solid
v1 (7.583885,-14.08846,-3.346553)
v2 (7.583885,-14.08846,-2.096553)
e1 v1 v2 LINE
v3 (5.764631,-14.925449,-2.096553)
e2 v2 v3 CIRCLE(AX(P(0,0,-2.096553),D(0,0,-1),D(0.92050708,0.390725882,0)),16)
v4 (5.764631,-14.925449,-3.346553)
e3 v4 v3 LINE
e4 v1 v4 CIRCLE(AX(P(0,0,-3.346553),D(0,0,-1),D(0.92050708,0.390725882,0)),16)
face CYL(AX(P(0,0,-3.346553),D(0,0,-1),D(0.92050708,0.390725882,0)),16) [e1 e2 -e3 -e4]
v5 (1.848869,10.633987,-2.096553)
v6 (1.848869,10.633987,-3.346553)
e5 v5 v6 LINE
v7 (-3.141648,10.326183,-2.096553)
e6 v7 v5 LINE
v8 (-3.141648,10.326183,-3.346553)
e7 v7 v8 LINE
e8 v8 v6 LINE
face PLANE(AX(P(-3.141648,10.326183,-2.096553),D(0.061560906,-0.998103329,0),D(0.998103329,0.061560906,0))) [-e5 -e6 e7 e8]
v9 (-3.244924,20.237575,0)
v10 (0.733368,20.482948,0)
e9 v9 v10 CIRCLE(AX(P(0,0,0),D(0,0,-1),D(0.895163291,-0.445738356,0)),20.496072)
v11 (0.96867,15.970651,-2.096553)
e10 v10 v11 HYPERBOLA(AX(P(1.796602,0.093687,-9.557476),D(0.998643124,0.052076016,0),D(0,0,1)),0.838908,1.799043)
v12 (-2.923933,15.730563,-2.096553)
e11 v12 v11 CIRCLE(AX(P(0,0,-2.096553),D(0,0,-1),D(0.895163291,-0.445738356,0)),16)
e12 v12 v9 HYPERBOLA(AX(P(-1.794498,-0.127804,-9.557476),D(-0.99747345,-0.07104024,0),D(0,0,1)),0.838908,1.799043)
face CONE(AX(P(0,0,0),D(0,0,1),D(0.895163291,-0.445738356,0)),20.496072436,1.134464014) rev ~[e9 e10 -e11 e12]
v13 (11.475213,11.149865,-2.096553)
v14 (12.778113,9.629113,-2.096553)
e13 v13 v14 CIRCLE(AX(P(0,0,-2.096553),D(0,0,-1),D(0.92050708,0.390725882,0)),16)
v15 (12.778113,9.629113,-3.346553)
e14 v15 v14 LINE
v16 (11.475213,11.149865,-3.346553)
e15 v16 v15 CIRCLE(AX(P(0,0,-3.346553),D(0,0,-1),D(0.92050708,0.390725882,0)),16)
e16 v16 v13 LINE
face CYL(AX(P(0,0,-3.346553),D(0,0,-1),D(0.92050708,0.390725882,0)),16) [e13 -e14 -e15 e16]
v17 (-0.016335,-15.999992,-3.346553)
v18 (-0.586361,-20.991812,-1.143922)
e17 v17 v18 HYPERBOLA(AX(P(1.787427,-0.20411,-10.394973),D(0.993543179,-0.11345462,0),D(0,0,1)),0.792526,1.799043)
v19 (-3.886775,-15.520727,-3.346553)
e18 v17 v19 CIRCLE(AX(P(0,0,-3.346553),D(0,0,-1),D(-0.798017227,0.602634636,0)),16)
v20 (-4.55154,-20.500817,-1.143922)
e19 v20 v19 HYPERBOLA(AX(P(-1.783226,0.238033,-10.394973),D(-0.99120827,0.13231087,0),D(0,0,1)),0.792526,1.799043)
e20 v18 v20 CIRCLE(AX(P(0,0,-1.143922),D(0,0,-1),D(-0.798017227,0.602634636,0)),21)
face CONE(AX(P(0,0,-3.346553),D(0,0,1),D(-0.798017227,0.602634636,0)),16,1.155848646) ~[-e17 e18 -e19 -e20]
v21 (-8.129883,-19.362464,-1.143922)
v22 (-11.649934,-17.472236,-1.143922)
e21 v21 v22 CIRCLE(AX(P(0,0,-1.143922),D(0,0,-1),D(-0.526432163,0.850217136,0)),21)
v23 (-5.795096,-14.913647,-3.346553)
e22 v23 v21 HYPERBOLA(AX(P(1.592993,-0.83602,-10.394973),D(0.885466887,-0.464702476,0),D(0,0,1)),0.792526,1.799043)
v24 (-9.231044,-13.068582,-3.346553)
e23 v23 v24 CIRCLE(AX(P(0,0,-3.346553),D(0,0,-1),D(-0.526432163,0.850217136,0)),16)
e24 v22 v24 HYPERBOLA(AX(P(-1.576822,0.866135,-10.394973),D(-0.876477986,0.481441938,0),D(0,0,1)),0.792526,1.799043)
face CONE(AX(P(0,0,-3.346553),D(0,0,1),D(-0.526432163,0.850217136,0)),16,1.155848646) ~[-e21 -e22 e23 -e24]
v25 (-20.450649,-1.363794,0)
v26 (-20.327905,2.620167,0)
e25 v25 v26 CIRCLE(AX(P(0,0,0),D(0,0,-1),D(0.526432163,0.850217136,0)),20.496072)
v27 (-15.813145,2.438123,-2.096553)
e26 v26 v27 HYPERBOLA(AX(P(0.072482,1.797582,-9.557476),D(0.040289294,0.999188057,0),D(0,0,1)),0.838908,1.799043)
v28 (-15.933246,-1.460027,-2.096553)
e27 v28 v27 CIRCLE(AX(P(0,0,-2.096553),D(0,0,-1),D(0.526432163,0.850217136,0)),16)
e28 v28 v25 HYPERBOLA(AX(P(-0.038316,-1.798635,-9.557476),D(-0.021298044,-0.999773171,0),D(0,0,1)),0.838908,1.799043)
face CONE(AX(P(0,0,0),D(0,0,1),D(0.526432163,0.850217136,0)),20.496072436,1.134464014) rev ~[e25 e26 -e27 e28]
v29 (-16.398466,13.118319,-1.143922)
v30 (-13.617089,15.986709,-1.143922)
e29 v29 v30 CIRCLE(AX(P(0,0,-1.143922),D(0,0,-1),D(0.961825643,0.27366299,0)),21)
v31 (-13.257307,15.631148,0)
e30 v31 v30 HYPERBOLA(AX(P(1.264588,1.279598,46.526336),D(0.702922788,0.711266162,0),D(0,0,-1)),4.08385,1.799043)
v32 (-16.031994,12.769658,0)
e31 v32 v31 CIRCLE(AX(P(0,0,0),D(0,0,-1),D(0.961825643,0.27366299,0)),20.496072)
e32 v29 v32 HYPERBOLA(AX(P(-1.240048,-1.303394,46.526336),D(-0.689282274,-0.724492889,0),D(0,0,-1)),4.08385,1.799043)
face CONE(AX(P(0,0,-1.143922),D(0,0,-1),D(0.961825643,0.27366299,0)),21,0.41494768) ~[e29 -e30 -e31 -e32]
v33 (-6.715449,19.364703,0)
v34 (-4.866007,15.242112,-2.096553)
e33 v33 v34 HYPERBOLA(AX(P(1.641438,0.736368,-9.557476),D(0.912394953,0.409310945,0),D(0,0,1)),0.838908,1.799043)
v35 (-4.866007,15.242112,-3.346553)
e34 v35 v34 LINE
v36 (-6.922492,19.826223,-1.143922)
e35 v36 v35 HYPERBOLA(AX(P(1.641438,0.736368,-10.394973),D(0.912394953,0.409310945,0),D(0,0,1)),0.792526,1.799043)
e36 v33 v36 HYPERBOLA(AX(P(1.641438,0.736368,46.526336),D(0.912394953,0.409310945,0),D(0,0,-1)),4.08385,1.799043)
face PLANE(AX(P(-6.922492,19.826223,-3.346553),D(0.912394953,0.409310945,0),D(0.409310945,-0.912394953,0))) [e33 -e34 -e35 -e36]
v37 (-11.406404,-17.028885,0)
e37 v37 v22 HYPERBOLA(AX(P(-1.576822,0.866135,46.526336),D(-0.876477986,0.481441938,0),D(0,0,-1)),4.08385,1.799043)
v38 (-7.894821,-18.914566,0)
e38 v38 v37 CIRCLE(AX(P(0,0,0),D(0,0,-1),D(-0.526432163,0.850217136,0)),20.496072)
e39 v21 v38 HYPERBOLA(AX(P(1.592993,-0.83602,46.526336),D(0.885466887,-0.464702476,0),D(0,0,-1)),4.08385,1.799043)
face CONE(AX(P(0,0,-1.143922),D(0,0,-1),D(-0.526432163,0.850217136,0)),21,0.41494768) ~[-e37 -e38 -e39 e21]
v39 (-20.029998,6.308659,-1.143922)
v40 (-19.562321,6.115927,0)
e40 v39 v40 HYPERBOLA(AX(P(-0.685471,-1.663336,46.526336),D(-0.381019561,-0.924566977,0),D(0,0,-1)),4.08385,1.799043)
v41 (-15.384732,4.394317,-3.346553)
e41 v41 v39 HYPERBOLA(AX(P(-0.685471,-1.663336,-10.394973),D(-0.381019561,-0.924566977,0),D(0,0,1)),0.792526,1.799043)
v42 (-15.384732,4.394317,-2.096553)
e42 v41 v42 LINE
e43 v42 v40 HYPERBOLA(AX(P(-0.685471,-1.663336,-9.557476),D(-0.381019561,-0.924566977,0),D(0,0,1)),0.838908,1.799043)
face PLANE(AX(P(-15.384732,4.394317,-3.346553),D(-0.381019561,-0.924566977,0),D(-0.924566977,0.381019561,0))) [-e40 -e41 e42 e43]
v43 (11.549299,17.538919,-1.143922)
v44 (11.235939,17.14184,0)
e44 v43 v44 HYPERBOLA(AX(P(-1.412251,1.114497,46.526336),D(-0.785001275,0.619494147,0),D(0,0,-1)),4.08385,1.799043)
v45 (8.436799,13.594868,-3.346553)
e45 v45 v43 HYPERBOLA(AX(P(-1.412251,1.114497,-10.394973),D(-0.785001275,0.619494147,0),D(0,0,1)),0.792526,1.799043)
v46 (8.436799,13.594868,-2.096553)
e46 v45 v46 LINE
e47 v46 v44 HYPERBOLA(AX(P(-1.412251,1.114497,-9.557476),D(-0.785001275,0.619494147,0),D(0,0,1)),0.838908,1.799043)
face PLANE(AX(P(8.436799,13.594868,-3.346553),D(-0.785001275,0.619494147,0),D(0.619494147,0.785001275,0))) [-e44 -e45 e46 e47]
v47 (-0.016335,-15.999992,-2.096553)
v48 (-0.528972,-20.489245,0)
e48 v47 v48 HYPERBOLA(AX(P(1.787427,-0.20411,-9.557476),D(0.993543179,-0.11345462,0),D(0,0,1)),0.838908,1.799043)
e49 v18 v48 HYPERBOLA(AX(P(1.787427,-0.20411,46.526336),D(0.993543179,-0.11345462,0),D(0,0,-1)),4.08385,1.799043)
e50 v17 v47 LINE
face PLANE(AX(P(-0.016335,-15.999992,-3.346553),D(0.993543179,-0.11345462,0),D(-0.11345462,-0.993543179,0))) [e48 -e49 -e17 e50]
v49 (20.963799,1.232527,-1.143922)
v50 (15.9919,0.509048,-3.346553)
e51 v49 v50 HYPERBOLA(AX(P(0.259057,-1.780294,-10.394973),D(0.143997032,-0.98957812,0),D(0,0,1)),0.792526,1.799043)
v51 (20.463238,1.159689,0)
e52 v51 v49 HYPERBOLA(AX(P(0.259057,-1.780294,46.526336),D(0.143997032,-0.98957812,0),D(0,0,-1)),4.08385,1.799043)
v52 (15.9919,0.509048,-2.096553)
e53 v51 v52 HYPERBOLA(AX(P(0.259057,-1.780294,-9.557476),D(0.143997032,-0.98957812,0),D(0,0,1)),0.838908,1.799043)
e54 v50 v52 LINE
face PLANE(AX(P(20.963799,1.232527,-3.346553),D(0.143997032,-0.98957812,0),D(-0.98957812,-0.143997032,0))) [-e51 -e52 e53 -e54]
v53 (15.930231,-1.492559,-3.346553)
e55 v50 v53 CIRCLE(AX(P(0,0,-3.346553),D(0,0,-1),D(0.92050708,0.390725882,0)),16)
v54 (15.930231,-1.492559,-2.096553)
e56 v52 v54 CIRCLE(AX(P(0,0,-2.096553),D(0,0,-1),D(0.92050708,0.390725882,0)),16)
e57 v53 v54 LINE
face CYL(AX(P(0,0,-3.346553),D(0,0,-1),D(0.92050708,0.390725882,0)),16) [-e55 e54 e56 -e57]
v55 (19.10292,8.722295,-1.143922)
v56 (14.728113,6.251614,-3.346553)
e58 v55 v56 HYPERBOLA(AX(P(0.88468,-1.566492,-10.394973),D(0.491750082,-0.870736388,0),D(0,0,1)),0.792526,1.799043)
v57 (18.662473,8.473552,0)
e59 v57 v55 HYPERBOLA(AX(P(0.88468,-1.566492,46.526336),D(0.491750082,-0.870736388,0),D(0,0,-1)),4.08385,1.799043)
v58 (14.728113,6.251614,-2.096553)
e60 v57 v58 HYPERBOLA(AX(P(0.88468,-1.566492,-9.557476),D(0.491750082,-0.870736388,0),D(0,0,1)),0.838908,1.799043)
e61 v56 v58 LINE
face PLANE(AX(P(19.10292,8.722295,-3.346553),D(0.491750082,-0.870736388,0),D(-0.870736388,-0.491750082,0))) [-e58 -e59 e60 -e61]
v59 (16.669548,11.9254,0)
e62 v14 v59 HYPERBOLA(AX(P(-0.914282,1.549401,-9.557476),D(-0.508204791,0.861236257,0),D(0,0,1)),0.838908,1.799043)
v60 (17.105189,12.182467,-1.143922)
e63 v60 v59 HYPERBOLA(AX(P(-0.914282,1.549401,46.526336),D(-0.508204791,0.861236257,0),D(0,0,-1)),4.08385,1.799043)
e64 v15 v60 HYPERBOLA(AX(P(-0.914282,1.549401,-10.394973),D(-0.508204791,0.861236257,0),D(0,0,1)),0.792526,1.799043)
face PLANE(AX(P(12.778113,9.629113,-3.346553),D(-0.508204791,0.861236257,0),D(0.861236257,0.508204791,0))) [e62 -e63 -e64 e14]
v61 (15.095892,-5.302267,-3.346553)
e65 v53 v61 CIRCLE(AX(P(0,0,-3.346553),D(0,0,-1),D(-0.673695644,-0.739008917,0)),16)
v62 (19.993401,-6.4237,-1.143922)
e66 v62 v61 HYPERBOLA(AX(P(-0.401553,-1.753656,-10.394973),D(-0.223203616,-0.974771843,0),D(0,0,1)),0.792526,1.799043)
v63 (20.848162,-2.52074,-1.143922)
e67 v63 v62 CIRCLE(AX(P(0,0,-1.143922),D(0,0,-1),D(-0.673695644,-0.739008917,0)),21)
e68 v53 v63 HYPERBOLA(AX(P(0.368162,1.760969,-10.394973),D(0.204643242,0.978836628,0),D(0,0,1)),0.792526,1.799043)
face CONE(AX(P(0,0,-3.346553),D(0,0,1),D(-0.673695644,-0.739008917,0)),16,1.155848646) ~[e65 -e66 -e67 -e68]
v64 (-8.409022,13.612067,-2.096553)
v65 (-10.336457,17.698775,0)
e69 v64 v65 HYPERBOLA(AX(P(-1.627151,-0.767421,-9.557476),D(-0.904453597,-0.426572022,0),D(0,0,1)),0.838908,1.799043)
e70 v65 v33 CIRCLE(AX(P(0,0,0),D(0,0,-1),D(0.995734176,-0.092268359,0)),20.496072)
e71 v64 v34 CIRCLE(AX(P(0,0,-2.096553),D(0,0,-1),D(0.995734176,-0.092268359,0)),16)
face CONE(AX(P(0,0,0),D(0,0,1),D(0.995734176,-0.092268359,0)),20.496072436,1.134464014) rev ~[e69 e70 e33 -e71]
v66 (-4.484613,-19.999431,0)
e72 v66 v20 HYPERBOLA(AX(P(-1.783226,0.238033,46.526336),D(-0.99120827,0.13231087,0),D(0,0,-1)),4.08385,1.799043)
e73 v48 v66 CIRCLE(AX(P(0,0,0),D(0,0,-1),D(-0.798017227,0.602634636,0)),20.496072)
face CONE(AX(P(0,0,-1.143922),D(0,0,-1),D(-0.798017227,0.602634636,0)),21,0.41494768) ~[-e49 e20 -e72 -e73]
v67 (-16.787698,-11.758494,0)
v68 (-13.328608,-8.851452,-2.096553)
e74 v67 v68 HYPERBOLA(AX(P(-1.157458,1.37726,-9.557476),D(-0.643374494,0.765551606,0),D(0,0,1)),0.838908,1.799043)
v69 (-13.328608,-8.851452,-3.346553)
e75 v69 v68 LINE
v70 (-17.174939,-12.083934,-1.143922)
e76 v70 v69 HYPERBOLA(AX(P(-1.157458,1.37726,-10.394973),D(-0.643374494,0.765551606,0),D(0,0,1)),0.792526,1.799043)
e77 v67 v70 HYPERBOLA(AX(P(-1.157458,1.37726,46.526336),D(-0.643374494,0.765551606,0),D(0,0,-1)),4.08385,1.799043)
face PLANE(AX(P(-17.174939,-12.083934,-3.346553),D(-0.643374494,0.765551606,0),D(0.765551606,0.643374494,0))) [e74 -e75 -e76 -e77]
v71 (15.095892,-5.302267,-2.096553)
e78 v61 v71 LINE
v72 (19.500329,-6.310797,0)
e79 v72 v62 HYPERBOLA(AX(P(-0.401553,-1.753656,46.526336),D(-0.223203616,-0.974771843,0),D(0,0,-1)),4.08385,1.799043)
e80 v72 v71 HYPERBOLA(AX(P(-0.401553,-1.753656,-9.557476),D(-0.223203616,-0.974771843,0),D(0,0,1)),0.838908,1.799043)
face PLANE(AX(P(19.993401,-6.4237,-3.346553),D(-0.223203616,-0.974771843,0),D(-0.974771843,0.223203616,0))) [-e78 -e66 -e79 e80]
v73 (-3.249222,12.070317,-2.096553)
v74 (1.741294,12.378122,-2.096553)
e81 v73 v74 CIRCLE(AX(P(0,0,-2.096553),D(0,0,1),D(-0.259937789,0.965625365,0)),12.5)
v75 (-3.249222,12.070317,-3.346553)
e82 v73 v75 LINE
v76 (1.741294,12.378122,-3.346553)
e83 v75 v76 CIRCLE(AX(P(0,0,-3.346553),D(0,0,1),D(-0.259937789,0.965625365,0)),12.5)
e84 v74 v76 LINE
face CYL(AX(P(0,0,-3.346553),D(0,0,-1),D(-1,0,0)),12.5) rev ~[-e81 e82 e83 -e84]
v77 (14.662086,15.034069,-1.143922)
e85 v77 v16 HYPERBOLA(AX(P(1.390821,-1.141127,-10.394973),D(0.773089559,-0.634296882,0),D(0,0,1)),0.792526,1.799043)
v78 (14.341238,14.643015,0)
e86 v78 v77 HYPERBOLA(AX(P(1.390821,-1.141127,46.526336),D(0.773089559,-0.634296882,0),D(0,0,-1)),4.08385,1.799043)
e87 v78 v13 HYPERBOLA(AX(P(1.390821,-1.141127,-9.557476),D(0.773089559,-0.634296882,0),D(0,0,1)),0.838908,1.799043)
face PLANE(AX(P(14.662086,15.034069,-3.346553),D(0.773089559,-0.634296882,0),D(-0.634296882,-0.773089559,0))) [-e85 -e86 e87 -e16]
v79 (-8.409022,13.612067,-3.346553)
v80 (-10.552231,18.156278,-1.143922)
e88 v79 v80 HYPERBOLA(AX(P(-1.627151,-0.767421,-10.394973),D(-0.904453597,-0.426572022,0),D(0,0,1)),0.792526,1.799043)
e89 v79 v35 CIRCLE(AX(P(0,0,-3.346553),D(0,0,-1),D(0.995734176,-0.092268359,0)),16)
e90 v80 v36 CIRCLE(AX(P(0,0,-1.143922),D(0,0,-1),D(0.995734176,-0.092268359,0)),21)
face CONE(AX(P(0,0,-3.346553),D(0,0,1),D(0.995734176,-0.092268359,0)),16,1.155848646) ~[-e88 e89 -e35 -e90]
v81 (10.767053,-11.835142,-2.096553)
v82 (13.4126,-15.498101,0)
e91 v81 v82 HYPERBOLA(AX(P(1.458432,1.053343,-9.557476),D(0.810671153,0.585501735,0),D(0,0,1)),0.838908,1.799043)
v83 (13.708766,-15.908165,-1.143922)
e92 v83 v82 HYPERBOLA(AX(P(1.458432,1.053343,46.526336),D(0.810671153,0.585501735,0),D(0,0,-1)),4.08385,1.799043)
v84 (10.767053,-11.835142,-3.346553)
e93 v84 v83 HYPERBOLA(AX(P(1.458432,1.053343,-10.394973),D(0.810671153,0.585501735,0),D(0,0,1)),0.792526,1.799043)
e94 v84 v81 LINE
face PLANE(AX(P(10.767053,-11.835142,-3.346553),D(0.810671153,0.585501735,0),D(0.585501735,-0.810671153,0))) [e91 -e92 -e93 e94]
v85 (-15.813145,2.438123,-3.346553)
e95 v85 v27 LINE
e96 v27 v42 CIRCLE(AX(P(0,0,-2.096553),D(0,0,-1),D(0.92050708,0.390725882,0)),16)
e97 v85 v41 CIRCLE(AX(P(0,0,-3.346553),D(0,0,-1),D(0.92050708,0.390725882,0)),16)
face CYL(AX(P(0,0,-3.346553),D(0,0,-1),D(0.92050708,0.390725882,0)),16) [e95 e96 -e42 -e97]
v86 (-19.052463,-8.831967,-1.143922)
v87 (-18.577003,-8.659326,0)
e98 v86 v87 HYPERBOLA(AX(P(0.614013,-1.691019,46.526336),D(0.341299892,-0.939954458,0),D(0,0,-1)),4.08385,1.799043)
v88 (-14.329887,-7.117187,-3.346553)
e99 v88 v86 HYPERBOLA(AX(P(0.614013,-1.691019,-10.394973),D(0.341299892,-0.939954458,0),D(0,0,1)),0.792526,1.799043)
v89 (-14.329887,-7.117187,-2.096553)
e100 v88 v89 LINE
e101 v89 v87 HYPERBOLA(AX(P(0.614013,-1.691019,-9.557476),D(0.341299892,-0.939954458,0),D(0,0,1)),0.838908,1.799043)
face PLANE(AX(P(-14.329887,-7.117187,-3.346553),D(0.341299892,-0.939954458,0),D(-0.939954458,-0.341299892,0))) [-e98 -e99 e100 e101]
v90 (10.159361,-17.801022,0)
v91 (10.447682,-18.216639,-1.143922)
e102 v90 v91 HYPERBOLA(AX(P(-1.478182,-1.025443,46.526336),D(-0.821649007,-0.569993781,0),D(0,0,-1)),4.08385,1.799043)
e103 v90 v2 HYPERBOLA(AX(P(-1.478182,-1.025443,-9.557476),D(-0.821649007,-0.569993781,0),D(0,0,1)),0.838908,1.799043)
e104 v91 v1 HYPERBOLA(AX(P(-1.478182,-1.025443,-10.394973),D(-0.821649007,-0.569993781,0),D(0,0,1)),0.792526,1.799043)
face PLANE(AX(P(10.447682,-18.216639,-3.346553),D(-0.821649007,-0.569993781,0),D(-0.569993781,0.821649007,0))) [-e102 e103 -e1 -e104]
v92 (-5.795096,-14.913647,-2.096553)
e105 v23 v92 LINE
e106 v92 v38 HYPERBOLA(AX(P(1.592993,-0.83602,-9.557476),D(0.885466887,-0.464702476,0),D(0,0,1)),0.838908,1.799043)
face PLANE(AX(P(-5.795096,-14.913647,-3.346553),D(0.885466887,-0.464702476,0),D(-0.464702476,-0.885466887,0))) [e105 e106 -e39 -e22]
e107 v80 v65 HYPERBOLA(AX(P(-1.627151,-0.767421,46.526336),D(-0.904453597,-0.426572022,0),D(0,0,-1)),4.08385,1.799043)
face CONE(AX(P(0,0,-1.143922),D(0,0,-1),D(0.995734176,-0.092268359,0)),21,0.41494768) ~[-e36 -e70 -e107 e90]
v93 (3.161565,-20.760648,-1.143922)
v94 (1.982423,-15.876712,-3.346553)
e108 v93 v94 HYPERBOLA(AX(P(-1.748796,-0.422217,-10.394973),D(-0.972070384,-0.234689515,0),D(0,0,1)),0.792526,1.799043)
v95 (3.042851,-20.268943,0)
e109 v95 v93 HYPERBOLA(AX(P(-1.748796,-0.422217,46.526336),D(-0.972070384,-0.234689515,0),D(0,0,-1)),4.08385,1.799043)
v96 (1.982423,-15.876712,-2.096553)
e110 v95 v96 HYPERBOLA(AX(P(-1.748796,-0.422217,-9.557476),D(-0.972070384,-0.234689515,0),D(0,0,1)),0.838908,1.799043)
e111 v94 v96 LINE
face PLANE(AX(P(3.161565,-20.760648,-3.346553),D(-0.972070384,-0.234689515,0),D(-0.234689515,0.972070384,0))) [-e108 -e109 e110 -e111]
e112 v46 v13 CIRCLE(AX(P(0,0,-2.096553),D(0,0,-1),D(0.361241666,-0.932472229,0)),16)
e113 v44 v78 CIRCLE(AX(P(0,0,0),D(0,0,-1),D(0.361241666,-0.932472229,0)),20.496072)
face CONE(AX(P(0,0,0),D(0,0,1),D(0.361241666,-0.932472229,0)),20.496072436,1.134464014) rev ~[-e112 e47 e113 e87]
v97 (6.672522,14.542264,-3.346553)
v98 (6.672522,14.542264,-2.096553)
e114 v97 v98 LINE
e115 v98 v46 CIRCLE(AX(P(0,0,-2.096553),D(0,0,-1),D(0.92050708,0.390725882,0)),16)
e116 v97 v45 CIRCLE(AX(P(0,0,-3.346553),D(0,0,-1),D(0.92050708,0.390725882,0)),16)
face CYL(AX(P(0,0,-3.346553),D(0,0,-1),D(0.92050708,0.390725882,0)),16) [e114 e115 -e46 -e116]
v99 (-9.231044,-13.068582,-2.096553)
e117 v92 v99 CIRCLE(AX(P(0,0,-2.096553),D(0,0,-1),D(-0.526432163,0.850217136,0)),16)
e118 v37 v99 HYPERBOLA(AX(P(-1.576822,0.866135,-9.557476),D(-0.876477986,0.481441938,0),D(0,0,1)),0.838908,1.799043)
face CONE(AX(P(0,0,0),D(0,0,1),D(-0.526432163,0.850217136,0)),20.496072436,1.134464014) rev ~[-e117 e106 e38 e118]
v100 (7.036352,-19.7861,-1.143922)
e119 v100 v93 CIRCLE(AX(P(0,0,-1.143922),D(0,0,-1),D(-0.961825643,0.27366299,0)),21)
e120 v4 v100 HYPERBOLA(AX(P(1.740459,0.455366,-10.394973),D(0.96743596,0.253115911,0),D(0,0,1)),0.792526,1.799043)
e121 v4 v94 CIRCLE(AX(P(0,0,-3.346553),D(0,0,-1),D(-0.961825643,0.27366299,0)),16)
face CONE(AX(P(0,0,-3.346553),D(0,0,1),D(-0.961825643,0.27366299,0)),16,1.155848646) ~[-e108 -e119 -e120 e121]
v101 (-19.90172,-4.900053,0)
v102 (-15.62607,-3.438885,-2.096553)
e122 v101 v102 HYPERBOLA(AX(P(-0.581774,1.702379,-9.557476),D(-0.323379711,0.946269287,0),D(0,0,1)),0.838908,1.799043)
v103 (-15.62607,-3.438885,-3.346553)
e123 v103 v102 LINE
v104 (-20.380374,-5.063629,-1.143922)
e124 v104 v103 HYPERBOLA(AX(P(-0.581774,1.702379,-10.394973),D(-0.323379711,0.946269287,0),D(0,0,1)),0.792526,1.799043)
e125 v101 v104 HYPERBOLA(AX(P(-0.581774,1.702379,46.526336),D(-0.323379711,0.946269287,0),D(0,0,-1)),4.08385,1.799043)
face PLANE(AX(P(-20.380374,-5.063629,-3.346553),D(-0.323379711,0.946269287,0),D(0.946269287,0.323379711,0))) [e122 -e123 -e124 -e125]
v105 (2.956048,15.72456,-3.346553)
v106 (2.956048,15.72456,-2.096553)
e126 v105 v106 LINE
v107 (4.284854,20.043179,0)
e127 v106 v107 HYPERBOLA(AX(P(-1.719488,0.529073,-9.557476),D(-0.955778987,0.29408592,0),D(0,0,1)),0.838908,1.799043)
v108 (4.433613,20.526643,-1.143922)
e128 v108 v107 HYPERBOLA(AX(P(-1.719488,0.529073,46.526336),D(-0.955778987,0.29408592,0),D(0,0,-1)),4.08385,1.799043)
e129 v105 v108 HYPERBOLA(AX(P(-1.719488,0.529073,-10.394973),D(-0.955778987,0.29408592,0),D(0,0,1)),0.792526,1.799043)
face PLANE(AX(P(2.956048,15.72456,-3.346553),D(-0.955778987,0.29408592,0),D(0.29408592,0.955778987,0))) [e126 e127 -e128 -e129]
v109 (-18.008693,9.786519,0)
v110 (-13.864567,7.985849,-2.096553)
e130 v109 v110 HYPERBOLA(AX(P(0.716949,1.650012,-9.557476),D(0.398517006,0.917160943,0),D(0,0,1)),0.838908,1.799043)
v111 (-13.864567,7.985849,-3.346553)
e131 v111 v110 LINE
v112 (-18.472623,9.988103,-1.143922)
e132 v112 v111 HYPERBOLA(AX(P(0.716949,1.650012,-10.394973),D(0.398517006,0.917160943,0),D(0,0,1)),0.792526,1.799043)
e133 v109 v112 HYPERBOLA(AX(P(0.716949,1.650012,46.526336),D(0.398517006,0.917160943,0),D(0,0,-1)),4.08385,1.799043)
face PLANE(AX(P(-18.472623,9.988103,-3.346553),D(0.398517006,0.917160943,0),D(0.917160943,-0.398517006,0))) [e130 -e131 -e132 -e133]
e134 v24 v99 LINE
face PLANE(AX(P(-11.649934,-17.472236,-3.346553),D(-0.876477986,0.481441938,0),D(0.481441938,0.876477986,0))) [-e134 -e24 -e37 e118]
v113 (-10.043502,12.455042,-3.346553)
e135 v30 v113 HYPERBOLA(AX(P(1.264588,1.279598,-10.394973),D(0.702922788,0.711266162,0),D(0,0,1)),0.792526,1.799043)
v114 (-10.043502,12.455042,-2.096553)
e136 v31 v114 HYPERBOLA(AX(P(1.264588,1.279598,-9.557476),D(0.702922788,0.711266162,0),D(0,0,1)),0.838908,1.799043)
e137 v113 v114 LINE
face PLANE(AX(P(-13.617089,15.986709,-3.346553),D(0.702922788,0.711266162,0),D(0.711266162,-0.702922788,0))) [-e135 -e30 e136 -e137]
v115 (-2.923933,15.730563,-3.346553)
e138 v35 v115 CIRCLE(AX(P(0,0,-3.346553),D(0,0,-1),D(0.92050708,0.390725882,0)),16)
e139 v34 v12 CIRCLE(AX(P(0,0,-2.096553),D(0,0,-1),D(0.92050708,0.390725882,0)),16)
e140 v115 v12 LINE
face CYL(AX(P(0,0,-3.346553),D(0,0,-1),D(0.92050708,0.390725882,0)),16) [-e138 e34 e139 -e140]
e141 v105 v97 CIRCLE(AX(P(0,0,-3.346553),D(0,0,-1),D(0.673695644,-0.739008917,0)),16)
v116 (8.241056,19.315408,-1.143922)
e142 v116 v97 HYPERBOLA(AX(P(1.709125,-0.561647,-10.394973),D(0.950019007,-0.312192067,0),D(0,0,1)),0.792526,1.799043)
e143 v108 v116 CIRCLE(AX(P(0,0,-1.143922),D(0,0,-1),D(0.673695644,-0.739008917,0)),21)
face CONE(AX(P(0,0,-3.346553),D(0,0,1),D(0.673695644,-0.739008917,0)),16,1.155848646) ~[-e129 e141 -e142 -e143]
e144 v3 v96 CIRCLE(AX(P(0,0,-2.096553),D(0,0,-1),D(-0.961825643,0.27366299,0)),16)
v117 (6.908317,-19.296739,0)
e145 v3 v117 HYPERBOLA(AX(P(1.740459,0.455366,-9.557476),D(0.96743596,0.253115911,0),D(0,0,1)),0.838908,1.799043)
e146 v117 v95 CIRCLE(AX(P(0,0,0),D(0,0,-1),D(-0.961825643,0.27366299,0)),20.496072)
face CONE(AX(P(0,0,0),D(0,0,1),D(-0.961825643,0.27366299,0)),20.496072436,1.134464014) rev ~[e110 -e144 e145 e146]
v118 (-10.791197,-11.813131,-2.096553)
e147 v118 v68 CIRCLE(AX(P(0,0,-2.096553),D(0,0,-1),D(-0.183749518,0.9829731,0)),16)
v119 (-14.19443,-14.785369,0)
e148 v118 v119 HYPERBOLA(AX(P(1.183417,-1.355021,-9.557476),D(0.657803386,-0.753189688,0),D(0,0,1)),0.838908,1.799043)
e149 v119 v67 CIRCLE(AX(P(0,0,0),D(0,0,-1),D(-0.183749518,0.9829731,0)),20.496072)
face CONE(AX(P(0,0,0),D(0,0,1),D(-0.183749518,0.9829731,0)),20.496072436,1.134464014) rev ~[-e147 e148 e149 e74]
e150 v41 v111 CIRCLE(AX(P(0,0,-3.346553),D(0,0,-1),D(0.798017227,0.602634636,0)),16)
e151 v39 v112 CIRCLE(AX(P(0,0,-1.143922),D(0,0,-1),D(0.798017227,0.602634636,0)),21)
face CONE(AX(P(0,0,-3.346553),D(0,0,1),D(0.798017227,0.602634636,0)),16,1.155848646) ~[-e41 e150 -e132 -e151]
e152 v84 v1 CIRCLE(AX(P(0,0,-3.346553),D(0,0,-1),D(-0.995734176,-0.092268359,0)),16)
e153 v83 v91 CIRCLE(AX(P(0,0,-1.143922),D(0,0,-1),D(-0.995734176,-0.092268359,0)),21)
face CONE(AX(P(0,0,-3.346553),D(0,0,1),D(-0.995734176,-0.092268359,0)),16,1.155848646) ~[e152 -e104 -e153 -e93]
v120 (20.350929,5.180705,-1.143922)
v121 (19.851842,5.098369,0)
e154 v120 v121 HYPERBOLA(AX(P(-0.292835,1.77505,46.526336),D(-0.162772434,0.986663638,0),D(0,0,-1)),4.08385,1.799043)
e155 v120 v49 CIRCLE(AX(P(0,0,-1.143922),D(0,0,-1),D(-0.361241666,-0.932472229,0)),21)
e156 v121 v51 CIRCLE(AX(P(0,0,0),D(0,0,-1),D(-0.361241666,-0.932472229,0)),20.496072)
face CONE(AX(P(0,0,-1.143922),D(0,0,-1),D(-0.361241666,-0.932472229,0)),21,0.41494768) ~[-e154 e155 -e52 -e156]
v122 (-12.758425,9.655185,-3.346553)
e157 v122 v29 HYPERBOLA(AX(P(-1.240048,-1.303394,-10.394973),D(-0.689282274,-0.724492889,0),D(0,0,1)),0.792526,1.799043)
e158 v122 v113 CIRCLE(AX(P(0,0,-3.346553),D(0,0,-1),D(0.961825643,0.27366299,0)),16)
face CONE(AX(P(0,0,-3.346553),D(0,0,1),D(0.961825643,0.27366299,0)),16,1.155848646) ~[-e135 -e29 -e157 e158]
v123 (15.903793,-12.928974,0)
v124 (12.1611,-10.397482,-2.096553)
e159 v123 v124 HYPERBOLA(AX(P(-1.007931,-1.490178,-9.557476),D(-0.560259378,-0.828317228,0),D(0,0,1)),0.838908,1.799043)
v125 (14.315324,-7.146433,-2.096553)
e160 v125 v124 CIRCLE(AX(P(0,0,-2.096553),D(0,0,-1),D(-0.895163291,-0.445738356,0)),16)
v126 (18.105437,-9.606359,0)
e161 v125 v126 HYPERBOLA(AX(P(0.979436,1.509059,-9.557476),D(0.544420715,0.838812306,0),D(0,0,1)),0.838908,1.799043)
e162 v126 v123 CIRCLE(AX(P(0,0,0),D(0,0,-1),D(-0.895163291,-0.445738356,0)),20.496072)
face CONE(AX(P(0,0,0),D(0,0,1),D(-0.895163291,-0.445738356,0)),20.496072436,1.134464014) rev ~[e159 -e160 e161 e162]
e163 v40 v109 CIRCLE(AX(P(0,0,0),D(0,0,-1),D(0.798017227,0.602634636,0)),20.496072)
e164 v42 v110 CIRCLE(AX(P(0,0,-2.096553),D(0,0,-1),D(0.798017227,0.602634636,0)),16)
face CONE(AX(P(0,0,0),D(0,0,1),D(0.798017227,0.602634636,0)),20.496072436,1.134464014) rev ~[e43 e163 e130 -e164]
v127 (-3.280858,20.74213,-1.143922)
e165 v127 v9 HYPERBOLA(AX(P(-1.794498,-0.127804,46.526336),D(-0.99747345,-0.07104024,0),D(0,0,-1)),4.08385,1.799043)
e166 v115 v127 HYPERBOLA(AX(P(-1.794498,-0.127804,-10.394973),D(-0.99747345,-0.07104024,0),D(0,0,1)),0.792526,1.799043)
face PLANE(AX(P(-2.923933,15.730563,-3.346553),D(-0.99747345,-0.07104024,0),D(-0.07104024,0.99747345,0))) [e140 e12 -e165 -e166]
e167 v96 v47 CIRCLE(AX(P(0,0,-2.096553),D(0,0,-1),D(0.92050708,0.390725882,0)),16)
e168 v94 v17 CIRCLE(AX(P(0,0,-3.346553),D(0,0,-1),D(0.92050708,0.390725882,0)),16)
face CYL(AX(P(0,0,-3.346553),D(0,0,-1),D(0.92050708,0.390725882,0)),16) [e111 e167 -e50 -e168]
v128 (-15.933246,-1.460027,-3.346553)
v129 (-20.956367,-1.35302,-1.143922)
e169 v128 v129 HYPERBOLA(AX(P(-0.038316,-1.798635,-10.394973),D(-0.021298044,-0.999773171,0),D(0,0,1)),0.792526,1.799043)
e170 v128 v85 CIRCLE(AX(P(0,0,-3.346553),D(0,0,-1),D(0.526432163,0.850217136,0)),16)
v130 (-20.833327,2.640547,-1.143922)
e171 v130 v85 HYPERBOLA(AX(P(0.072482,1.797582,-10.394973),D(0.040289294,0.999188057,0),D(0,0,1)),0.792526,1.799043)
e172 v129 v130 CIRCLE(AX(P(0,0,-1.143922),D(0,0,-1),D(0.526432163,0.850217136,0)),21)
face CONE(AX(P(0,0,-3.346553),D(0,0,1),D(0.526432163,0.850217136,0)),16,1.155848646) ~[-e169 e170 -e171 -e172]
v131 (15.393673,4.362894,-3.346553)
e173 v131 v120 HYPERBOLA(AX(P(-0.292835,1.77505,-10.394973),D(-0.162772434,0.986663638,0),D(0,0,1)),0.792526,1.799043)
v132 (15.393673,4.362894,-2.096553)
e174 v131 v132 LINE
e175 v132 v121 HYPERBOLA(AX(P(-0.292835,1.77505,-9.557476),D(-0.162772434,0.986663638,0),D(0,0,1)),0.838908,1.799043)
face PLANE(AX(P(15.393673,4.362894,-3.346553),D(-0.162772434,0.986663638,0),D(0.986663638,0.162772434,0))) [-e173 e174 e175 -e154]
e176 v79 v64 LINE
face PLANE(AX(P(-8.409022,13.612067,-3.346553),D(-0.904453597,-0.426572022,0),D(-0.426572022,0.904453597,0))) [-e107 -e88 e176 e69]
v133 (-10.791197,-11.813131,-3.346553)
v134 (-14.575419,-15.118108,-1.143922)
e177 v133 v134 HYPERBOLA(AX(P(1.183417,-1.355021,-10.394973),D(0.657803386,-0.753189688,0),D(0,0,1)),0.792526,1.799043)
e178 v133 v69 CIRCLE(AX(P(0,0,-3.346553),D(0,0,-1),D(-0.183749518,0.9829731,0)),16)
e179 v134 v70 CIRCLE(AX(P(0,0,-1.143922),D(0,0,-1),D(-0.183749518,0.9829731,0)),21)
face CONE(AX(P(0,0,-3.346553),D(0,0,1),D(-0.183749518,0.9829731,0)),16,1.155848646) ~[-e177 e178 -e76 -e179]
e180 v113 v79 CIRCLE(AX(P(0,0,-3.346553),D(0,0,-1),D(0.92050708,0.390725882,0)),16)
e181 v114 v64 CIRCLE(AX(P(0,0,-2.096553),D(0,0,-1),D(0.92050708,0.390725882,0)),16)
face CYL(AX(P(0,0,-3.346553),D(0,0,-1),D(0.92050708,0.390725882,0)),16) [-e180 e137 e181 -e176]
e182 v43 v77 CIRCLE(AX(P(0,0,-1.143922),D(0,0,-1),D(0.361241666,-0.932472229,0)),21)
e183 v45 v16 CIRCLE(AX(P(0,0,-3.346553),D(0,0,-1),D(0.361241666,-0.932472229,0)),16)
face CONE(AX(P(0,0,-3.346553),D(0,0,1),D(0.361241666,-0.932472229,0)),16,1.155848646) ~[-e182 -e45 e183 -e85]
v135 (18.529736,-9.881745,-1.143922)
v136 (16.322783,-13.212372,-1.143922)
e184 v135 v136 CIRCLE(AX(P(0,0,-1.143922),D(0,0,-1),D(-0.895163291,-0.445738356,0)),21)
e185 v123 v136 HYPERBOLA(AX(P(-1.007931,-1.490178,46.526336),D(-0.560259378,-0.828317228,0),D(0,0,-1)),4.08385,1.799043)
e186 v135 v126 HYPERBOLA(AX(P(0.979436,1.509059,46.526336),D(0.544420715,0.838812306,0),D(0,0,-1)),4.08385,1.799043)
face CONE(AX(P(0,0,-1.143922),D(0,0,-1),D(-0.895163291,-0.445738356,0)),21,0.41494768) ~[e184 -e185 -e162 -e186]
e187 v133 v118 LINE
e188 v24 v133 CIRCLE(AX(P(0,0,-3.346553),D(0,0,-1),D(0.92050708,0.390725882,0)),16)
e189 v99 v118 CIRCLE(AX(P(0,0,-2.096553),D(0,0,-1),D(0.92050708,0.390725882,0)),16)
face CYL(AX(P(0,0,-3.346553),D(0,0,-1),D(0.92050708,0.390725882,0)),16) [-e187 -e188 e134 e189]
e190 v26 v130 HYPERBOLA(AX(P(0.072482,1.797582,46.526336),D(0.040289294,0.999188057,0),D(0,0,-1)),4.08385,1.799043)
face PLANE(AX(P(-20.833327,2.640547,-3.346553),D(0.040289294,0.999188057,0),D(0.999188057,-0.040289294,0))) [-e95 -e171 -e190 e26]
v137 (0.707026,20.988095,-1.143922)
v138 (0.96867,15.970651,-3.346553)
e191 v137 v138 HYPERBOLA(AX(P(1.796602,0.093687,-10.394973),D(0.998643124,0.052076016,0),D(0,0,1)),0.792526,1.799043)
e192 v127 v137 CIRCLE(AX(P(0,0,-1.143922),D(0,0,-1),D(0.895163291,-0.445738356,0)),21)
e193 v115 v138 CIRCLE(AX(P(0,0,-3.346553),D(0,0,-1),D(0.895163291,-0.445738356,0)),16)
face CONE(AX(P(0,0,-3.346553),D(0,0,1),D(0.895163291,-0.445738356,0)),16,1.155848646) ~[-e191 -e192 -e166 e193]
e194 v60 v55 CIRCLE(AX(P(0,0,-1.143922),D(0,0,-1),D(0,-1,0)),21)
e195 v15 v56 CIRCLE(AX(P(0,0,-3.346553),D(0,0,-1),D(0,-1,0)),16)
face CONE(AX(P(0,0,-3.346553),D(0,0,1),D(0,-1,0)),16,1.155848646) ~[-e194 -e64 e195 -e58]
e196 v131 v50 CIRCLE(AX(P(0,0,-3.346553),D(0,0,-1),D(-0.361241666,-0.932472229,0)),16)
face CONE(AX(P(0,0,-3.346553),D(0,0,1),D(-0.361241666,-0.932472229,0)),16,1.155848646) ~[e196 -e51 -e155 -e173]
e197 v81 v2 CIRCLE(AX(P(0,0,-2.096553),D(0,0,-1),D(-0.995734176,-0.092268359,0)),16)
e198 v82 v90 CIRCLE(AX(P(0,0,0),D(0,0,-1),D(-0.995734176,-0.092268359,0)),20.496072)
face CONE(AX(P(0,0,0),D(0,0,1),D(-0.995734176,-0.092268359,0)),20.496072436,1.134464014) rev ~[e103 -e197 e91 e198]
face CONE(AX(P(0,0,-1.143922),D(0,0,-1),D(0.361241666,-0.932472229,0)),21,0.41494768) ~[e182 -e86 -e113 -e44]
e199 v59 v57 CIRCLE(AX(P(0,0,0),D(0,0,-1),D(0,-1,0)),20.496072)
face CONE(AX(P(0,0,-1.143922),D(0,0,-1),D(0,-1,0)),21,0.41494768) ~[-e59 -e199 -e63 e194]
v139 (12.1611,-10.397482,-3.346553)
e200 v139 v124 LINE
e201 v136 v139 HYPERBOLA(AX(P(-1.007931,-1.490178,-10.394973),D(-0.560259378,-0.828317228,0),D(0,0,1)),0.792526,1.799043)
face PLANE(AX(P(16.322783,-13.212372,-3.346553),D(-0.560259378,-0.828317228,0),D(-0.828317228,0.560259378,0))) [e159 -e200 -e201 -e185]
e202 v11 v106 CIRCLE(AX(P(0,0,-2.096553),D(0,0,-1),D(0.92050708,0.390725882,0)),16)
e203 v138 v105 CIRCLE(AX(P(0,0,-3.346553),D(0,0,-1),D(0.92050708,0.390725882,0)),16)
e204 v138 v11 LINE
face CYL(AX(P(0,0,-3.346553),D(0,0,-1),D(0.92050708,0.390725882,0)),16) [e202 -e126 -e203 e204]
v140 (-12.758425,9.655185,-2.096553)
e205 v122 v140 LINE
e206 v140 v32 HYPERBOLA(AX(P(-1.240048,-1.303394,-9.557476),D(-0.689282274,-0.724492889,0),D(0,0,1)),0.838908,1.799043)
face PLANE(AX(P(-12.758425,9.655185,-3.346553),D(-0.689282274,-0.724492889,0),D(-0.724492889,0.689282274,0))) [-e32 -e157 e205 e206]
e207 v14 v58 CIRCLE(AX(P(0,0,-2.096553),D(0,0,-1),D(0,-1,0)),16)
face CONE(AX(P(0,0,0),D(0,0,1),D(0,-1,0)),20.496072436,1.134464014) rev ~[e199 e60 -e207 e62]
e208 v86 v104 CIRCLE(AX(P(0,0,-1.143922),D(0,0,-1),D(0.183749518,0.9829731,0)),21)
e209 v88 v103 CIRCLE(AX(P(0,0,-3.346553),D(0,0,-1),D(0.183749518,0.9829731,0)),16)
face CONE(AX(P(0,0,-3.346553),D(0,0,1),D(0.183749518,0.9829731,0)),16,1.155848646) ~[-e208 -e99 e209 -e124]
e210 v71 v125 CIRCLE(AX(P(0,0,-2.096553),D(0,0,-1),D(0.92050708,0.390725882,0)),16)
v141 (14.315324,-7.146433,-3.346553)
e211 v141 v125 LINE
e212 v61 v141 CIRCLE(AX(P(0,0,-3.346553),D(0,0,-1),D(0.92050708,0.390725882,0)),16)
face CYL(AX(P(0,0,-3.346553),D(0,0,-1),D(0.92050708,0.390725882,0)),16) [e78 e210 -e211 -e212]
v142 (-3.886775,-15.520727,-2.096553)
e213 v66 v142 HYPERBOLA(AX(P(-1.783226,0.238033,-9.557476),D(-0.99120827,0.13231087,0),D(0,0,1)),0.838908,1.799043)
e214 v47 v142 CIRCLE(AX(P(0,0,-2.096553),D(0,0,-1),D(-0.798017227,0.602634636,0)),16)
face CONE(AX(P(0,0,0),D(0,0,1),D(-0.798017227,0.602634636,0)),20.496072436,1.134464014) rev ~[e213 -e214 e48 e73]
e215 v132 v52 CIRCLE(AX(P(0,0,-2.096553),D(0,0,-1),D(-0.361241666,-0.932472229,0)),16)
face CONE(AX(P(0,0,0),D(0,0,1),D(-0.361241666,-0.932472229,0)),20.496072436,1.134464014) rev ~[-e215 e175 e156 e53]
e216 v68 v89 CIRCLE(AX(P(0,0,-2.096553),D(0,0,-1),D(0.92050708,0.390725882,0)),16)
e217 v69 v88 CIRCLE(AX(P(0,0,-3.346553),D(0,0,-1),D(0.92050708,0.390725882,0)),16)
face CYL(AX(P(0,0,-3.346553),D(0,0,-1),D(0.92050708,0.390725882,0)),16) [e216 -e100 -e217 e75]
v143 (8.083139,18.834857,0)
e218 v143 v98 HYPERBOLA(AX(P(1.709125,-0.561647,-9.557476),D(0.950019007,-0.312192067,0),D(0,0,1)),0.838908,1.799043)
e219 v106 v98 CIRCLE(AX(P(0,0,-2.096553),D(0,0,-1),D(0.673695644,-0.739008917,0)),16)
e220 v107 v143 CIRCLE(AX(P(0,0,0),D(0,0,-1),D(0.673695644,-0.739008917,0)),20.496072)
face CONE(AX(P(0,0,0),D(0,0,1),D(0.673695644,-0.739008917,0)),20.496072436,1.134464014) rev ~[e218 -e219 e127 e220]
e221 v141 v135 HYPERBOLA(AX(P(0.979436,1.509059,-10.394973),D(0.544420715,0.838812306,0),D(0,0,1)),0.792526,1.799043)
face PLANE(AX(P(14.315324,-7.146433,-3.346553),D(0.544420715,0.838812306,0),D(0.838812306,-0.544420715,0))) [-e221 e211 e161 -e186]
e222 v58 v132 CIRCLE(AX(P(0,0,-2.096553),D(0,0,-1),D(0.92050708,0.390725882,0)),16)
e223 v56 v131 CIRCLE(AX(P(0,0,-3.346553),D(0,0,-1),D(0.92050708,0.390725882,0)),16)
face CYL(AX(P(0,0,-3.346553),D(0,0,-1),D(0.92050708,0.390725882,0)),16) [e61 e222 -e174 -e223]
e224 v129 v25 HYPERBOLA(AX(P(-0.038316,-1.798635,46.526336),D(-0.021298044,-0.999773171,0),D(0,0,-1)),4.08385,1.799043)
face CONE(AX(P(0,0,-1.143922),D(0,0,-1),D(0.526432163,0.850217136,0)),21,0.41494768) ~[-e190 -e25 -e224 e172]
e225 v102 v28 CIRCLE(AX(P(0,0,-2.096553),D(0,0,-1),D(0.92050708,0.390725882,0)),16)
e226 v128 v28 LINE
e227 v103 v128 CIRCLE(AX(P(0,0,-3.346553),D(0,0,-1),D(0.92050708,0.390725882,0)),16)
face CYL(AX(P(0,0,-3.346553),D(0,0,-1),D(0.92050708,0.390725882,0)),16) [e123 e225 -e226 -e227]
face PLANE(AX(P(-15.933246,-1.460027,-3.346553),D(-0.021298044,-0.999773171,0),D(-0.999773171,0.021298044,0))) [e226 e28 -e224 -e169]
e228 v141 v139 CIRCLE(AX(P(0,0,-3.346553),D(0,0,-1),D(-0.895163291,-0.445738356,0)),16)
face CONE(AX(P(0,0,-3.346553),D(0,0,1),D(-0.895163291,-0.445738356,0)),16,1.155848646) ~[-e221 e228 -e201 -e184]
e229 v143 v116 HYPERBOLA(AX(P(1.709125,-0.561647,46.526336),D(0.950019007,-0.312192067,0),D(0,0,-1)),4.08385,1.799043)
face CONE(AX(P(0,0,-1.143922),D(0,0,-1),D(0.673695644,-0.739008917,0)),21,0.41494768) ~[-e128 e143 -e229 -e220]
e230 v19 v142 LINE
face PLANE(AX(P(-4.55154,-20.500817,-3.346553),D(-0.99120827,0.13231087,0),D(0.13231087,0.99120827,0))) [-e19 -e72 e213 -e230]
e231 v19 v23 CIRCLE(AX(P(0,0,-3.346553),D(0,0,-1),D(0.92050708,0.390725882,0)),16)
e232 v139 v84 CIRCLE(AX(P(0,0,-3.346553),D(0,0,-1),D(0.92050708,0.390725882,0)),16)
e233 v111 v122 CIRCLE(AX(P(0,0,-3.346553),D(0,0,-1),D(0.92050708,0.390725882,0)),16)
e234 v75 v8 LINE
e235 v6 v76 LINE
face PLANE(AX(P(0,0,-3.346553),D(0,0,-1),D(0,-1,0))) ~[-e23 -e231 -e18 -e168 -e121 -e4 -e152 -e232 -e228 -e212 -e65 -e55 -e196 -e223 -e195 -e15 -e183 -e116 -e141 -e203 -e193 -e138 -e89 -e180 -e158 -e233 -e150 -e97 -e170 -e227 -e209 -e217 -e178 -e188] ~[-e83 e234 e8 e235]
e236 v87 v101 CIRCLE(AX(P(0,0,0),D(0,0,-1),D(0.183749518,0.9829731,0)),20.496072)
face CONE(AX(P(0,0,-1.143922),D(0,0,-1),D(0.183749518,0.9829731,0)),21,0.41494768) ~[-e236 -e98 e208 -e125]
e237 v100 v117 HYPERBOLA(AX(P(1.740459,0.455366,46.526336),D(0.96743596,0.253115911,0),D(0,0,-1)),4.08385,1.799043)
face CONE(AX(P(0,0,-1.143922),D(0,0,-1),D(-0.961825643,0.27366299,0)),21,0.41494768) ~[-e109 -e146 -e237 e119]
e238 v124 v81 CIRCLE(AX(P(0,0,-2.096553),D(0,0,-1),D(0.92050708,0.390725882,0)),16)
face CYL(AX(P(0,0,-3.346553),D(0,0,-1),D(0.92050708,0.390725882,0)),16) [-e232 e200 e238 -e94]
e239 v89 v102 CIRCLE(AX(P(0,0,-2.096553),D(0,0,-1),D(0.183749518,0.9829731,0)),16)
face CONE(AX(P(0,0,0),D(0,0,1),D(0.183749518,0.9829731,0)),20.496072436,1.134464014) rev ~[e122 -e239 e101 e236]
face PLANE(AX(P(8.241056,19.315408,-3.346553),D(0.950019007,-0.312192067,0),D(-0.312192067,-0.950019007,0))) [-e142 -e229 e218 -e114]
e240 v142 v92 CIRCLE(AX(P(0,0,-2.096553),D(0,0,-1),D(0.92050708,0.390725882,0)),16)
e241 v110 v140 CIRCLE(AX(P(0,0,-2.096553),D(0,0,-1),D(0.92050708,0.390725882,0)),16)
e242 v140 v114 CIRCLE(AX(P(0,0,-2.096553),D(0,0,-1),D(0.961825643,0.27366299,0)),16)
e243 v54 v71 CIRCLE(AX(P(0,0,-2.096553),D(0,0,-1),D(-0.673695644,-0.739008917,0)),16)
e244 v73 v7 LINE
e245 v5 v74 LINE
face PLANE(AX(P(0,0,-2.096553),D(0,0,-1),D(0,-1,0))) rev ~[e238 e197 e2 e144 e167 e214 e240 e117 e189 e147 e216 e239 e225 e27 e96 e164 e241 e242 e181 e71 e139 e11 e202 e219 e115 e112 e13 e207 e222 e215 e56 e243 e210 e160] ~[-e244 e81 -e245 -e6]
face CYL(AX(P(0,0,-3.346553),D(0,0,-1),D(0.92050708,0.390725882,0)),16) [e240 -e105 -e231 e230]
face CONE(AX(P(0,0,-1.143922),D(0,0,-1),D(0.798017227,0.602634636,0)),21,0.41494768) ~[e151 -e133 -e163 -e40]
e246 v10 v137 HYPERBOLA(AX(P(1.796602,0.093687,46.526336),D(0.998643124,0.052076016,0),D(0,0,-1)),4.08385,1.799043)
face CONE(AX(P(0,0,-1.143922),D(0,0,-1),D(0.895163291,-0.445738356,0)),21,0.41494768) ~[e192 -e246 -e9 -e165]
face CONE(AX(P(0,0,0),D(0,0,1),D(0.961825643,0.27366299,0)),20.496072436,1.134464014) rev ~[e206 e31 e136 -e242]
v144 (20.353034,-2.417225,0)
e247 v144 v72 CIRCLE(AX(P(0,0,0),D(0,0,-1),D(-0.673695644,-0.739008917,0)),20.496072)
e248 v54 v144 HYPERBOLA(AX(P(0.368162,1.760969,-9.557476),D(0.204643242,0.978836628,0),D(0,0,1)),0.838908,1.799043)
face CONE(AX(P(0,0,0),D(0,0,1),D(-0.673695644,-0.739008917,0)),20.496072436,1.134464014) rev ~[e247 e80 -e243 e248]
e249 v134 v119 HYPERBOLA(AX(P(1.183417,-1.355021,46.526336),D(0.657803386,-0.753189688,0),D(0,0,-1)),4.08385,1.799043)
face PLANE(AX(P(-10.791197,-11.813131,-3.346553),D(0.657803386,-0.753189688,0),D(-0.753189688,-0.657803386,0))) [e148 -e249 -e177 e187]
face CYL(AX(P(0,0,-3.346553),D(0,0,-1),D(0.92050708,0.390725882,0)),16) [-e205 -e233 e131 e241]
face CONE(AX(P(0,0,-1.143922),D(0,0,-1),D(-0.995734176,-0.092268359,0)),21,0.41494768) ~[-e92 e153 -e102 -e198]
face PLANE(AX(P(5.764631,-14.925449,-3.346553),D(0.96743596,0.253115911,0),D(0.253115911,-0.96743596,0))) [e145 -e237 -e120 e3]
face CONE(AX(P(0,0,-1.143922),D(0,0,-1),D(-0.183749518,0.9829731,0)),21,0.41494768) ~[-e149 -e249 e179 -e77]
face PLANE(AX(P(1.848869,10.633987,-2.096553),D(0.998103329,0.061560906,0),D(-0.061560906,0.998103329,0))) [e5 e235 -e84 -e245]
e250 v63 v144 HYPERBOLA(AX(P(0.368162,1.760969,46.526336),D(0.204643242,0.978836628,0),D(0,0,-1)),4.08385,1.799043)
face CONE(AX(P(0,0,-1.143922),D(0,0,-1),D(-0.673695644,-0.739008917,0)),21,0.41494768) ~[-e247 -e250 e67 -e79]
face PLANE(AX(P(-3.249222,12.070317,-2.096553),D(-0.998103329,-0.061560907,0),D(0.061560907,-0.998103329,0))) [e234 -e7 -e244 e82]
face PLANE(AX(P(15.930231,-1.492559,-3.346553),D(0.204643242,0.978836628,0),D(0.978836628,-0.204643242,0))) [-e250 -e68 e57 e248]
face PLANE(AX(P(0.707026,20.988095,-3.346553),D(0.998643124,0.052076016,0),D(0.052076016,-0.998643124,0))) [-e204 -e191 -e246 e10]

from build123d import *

# Parameters (mm, degrees)
SKETCH2_OUTSIDE_W        = 55.898
SKETCH2_OUTSIDE_H        = 55.898
SKETCH2_OUTSIDE_R        = 12.5
CUT_EXTRUDE_DEPTH        = 4.346553008
PATTERN_CIRCULAR_4_COUNT = 17
EXTRUDE_1_DEPTH          = 1.25


with BuildPart() as part:
    # Sketch1 → Base-Extrude (revolve)
    with BuildSketch(Plane.YZ):
        Polygon((0, -3.346553008), (-16, -3.346553008), (-21, -1.143921767), (-20.496072436, 0), (-16, -2.096553008), (0, -2.096553008), align=None)
    revolve(axis=Axis((0, 0, 5.823648763), (0, 0, -1)))

    # Sketch2 outside → Cut-Extrude (cut, through all)
    with BuildSketch(Plane(origin=(-2.40435344, 1.003568156, -3.346553008), x_dir=(-1, 0, 0), z_dir=(0, 0, -1))):
        with Locations((-2.404, -1.004)):
            Rectangle(SKETCH2_OUTSIDE_W, SKETCH2_OUTSIDE_H)
        with BuildLine():
            Line((-15.182466724, 8.625545038), (-19.50954274, 11.178898713))
            ThreePointArc((-19.50954274, 11.178898713), (-20.590886919, 9.496431844), (-21.507273879, 7.718726879))
            Line((-21.507273879, 7.718726879), (-17.132466724, 5.248045963))
            ThreePointArc((-17.132466724, 5.248045963), (11.452053021, -9.003568156), (-15.182466724, 8.625545038))
        make_face(mode=Mode.SUBTRACT)
        with Locations((-2.40435344, -1.003568156)):
            Circle(SKETCH2_OUTSIDE_R)
    extrude(amount=-CUT_EXTRUDE_DEPTH, mode=Mode.SUBTRACT)


with BuildPart() as pattern_circular_4_1:
    # 阵列(圆周)4: pattern copy
    add(part.part.rotate(Axis((0, 0, 0), (0, 0, 1)), 1 * 360 / PATTERN_CIRCULAR_4_COUNT))


with BuildPart() as pattern_circular_4_2:
    # 阵列(圆周)4: pattern copy
    add(part.part.rotate(Axis((0, 0, 0), (0, 0, 1)), 2 * 360 / PATTERN_CIRCULAR_4_COUNT))


with BuildPart() as pattern_circular_4_3:
    # 阵列(圆周)4: pattern copy
    add(part.part.rotate(Axis((0, 0, 0), (0, 0, 1)), 3 * 360 / PATTERN_CIRCULAR_4_COUNT))


with BuildPart() as pattern_circular_4_4:
    # 阵列(圆周)4: pattern copy
    add(part.part.rotate(Axis((0, 0, 0), (0, 0, 1)), 4 * 360 / PATTERN_CIRCULAR_4_COUNT))


with BuildPart() as pattern_circular_4_5:
    # 阵列(圆周)4: pattern copy
    add(part.part.rotate(Axis((0, 0, 0), (0, 0, 1)), 5 * 360 / PATTERN_CIRCULAR_4_COUNT))


with BuildPart() as pattern_circular_4_6:
    # 阵列(圆周)4: pattern copy
    add(part.part.rotate(Axis((0, 0, 0), (0, 0, 1)), 6 * 360 / PATTERN_CIRCULAR_4_COUNT))


with BuildPart() as pattern_circular_4_7:
    # 阵列(圆周)4: pattern copy
    add(part.part.rotate(Axis((0, 0, 0), (0, 0, 1)), 7 * 360 / PATTERN_CIRCULAR_4_COUNT))


with BuildPart() as pattern_circular_4_8:
    # 阵列(圆周)4: pattern copy
    add(part.part.rotate(Axis((0, 0, 0), (0, 0, 1)), 8 * 360 / PATTERN_CIRCULAR_4_COUNT))


with BuildPart() as pattern_circular_4_9:
    # 阵列(圆周)4: pattern copy
    add(part.part.rotate(Axis((0, 0, 0), (0, 0, 1)), 9 * 360 / PATTERN_CIRCULAR_4_COUNT))


with BuildPart() as pattern_circular_4_10:
    # 阵列(圆周)4: pattern copy
    add(part.part.rotate(Axis((0, 0, 0), (0, 0, 1)), 10 * 360 / PATTERN_CIRCULAR_4_COUNT))


with BuildPart() as pattern_circular_4_11:
    # 阵列(圆周)4: pattern copy
    add(part.part.rotate(Axis((0, 0, 0), (0, 0, 1)), 11 * 360 / PATTERN_CIRCULAR_4_COUNT))


with BuildPart() as pattern_circular_4_12:
    # 阵列(圆周)4: pattern copy
    add(part.part.rotate(Axis((0, 0, 0), (0, 0, 1)), 12 * 360 / PATTERN_CIRCULAR_4_COUNT))


with BuildPart() as pattern_circular_4_13:
    # 阵列(圆周)4: pattern copy
    add(part.part.rotate(Axis((0, 0, 0), (0, 0, 1)), 13 * 360 / PATTERN_CIRCULAR_4_COUNT))


with BuildPart() as pattern_circular_4_14:
    # 阵列(圆周)4: pattern copy
    add(part.part.rotate(Axis((0, 0, 0), (0, 0, 1)), 14 * 360 / PATTERN_CIRCULAR_4_COUNT))


with BuildPart() as pattern_circular_4_15:
    # 阵列(圆周)4: pattern copy
    add(part.part.rotate(Axis((0, 0, 0), (0, 0, 1)), 15 * 360 / PATTERN_CIRCULAR_4_COUNT))


with BuildPart() as pattern_circular_4_16:
    # 阵列(圆周)4: pattern copy
    add(part.part.rotate(Axis((0, 0, 0), (0, 0, 1)), 16 * 360 / PATTERN_CIRCULAR_4_COUNT))


with BuildPart() as part_1:
    add(part.part)

    add(pattern_circular_4_1.part)  # 凸台-拉伸1 merges 阵列(圆周)4_1

    add(pattern_circular_4_2.part)  # 凸台-拉伸1 merges 阵列(圆周)4_2

    add(pattern_circular_4_3.part)  # 凸台-拉伸1 merges 阵列(圆周)4_3

    add(pattern_circular_4_4.part)  # 凸台-拉伸1 merges 阵列(圆周)4_4

    add(pattern_circular_4_5.part)  # 凸台-拉伸1 merges 阵列(圆周)4_5

    add(pattern_circular_4_6.part)  # 凸台-拉伸1 merges 阵列(圆周)4_6

    add(pattern_circular_4_7.part)  # 凸台-拉伸1 merges 阵列(圆周)4_7

    add(pattern_circular_4_8.part)  # 凸台-拉伸1 merges 阵列(圆周)4_8

    add(pattern_circular_4_9.part)  # 凸台-拉伸1 merges 阵列(圆周)4_9

    add(pattern_circular_4_10.part)  # 凸台-拉伸1 merges 阵列(圆周)4_10

    add(pattern_circular_4_11.part)  # 凸台-拉伸1 merges 阵列(圆周)4_11

    add(pattern_circular_4_12.part)  # 凸台-拉伸1 merges 阵列(圆周)4_12

    add(pattern_circular_4_13.part)  # 凸台-拉伸1 merges 阵列(圆周)4_13

    add(pattern_circular_4_14.part)  # 凸台-拉伸1 merges 阵列(圆周)4_14

    add(pattern_circular_4_15.part)  # 凸台-拉伸1 merges 阵列(圆周)4_15

    add(pattern_circular_4_16.part)  # 凸台-拉伸1 merges 阵列(圆周)4_16
    # 草图2 → 凸台-拉伸1 (add)
    with BuildSketch(Plane.XY.offset(-2.096553008)):
        with BuildLine():
            Line((1.848868807, 10.633987217), (1.741294281, 12.378121595))
            ThreePointArc((1.741294281, 12.378121595), (-0.769511327, 12.476291609), (-3.249222363, 12.070317065))
            Line((-3.249222363, 12.070317065), (-3.141647836, 10.326182686))
            Line((-3.141647836, 10.326182686), (1.848868807, 10.633987217))
        make_face()
    extrude(amount=-EXTRUDE_1_DEPTH)


solid = part_1.part
